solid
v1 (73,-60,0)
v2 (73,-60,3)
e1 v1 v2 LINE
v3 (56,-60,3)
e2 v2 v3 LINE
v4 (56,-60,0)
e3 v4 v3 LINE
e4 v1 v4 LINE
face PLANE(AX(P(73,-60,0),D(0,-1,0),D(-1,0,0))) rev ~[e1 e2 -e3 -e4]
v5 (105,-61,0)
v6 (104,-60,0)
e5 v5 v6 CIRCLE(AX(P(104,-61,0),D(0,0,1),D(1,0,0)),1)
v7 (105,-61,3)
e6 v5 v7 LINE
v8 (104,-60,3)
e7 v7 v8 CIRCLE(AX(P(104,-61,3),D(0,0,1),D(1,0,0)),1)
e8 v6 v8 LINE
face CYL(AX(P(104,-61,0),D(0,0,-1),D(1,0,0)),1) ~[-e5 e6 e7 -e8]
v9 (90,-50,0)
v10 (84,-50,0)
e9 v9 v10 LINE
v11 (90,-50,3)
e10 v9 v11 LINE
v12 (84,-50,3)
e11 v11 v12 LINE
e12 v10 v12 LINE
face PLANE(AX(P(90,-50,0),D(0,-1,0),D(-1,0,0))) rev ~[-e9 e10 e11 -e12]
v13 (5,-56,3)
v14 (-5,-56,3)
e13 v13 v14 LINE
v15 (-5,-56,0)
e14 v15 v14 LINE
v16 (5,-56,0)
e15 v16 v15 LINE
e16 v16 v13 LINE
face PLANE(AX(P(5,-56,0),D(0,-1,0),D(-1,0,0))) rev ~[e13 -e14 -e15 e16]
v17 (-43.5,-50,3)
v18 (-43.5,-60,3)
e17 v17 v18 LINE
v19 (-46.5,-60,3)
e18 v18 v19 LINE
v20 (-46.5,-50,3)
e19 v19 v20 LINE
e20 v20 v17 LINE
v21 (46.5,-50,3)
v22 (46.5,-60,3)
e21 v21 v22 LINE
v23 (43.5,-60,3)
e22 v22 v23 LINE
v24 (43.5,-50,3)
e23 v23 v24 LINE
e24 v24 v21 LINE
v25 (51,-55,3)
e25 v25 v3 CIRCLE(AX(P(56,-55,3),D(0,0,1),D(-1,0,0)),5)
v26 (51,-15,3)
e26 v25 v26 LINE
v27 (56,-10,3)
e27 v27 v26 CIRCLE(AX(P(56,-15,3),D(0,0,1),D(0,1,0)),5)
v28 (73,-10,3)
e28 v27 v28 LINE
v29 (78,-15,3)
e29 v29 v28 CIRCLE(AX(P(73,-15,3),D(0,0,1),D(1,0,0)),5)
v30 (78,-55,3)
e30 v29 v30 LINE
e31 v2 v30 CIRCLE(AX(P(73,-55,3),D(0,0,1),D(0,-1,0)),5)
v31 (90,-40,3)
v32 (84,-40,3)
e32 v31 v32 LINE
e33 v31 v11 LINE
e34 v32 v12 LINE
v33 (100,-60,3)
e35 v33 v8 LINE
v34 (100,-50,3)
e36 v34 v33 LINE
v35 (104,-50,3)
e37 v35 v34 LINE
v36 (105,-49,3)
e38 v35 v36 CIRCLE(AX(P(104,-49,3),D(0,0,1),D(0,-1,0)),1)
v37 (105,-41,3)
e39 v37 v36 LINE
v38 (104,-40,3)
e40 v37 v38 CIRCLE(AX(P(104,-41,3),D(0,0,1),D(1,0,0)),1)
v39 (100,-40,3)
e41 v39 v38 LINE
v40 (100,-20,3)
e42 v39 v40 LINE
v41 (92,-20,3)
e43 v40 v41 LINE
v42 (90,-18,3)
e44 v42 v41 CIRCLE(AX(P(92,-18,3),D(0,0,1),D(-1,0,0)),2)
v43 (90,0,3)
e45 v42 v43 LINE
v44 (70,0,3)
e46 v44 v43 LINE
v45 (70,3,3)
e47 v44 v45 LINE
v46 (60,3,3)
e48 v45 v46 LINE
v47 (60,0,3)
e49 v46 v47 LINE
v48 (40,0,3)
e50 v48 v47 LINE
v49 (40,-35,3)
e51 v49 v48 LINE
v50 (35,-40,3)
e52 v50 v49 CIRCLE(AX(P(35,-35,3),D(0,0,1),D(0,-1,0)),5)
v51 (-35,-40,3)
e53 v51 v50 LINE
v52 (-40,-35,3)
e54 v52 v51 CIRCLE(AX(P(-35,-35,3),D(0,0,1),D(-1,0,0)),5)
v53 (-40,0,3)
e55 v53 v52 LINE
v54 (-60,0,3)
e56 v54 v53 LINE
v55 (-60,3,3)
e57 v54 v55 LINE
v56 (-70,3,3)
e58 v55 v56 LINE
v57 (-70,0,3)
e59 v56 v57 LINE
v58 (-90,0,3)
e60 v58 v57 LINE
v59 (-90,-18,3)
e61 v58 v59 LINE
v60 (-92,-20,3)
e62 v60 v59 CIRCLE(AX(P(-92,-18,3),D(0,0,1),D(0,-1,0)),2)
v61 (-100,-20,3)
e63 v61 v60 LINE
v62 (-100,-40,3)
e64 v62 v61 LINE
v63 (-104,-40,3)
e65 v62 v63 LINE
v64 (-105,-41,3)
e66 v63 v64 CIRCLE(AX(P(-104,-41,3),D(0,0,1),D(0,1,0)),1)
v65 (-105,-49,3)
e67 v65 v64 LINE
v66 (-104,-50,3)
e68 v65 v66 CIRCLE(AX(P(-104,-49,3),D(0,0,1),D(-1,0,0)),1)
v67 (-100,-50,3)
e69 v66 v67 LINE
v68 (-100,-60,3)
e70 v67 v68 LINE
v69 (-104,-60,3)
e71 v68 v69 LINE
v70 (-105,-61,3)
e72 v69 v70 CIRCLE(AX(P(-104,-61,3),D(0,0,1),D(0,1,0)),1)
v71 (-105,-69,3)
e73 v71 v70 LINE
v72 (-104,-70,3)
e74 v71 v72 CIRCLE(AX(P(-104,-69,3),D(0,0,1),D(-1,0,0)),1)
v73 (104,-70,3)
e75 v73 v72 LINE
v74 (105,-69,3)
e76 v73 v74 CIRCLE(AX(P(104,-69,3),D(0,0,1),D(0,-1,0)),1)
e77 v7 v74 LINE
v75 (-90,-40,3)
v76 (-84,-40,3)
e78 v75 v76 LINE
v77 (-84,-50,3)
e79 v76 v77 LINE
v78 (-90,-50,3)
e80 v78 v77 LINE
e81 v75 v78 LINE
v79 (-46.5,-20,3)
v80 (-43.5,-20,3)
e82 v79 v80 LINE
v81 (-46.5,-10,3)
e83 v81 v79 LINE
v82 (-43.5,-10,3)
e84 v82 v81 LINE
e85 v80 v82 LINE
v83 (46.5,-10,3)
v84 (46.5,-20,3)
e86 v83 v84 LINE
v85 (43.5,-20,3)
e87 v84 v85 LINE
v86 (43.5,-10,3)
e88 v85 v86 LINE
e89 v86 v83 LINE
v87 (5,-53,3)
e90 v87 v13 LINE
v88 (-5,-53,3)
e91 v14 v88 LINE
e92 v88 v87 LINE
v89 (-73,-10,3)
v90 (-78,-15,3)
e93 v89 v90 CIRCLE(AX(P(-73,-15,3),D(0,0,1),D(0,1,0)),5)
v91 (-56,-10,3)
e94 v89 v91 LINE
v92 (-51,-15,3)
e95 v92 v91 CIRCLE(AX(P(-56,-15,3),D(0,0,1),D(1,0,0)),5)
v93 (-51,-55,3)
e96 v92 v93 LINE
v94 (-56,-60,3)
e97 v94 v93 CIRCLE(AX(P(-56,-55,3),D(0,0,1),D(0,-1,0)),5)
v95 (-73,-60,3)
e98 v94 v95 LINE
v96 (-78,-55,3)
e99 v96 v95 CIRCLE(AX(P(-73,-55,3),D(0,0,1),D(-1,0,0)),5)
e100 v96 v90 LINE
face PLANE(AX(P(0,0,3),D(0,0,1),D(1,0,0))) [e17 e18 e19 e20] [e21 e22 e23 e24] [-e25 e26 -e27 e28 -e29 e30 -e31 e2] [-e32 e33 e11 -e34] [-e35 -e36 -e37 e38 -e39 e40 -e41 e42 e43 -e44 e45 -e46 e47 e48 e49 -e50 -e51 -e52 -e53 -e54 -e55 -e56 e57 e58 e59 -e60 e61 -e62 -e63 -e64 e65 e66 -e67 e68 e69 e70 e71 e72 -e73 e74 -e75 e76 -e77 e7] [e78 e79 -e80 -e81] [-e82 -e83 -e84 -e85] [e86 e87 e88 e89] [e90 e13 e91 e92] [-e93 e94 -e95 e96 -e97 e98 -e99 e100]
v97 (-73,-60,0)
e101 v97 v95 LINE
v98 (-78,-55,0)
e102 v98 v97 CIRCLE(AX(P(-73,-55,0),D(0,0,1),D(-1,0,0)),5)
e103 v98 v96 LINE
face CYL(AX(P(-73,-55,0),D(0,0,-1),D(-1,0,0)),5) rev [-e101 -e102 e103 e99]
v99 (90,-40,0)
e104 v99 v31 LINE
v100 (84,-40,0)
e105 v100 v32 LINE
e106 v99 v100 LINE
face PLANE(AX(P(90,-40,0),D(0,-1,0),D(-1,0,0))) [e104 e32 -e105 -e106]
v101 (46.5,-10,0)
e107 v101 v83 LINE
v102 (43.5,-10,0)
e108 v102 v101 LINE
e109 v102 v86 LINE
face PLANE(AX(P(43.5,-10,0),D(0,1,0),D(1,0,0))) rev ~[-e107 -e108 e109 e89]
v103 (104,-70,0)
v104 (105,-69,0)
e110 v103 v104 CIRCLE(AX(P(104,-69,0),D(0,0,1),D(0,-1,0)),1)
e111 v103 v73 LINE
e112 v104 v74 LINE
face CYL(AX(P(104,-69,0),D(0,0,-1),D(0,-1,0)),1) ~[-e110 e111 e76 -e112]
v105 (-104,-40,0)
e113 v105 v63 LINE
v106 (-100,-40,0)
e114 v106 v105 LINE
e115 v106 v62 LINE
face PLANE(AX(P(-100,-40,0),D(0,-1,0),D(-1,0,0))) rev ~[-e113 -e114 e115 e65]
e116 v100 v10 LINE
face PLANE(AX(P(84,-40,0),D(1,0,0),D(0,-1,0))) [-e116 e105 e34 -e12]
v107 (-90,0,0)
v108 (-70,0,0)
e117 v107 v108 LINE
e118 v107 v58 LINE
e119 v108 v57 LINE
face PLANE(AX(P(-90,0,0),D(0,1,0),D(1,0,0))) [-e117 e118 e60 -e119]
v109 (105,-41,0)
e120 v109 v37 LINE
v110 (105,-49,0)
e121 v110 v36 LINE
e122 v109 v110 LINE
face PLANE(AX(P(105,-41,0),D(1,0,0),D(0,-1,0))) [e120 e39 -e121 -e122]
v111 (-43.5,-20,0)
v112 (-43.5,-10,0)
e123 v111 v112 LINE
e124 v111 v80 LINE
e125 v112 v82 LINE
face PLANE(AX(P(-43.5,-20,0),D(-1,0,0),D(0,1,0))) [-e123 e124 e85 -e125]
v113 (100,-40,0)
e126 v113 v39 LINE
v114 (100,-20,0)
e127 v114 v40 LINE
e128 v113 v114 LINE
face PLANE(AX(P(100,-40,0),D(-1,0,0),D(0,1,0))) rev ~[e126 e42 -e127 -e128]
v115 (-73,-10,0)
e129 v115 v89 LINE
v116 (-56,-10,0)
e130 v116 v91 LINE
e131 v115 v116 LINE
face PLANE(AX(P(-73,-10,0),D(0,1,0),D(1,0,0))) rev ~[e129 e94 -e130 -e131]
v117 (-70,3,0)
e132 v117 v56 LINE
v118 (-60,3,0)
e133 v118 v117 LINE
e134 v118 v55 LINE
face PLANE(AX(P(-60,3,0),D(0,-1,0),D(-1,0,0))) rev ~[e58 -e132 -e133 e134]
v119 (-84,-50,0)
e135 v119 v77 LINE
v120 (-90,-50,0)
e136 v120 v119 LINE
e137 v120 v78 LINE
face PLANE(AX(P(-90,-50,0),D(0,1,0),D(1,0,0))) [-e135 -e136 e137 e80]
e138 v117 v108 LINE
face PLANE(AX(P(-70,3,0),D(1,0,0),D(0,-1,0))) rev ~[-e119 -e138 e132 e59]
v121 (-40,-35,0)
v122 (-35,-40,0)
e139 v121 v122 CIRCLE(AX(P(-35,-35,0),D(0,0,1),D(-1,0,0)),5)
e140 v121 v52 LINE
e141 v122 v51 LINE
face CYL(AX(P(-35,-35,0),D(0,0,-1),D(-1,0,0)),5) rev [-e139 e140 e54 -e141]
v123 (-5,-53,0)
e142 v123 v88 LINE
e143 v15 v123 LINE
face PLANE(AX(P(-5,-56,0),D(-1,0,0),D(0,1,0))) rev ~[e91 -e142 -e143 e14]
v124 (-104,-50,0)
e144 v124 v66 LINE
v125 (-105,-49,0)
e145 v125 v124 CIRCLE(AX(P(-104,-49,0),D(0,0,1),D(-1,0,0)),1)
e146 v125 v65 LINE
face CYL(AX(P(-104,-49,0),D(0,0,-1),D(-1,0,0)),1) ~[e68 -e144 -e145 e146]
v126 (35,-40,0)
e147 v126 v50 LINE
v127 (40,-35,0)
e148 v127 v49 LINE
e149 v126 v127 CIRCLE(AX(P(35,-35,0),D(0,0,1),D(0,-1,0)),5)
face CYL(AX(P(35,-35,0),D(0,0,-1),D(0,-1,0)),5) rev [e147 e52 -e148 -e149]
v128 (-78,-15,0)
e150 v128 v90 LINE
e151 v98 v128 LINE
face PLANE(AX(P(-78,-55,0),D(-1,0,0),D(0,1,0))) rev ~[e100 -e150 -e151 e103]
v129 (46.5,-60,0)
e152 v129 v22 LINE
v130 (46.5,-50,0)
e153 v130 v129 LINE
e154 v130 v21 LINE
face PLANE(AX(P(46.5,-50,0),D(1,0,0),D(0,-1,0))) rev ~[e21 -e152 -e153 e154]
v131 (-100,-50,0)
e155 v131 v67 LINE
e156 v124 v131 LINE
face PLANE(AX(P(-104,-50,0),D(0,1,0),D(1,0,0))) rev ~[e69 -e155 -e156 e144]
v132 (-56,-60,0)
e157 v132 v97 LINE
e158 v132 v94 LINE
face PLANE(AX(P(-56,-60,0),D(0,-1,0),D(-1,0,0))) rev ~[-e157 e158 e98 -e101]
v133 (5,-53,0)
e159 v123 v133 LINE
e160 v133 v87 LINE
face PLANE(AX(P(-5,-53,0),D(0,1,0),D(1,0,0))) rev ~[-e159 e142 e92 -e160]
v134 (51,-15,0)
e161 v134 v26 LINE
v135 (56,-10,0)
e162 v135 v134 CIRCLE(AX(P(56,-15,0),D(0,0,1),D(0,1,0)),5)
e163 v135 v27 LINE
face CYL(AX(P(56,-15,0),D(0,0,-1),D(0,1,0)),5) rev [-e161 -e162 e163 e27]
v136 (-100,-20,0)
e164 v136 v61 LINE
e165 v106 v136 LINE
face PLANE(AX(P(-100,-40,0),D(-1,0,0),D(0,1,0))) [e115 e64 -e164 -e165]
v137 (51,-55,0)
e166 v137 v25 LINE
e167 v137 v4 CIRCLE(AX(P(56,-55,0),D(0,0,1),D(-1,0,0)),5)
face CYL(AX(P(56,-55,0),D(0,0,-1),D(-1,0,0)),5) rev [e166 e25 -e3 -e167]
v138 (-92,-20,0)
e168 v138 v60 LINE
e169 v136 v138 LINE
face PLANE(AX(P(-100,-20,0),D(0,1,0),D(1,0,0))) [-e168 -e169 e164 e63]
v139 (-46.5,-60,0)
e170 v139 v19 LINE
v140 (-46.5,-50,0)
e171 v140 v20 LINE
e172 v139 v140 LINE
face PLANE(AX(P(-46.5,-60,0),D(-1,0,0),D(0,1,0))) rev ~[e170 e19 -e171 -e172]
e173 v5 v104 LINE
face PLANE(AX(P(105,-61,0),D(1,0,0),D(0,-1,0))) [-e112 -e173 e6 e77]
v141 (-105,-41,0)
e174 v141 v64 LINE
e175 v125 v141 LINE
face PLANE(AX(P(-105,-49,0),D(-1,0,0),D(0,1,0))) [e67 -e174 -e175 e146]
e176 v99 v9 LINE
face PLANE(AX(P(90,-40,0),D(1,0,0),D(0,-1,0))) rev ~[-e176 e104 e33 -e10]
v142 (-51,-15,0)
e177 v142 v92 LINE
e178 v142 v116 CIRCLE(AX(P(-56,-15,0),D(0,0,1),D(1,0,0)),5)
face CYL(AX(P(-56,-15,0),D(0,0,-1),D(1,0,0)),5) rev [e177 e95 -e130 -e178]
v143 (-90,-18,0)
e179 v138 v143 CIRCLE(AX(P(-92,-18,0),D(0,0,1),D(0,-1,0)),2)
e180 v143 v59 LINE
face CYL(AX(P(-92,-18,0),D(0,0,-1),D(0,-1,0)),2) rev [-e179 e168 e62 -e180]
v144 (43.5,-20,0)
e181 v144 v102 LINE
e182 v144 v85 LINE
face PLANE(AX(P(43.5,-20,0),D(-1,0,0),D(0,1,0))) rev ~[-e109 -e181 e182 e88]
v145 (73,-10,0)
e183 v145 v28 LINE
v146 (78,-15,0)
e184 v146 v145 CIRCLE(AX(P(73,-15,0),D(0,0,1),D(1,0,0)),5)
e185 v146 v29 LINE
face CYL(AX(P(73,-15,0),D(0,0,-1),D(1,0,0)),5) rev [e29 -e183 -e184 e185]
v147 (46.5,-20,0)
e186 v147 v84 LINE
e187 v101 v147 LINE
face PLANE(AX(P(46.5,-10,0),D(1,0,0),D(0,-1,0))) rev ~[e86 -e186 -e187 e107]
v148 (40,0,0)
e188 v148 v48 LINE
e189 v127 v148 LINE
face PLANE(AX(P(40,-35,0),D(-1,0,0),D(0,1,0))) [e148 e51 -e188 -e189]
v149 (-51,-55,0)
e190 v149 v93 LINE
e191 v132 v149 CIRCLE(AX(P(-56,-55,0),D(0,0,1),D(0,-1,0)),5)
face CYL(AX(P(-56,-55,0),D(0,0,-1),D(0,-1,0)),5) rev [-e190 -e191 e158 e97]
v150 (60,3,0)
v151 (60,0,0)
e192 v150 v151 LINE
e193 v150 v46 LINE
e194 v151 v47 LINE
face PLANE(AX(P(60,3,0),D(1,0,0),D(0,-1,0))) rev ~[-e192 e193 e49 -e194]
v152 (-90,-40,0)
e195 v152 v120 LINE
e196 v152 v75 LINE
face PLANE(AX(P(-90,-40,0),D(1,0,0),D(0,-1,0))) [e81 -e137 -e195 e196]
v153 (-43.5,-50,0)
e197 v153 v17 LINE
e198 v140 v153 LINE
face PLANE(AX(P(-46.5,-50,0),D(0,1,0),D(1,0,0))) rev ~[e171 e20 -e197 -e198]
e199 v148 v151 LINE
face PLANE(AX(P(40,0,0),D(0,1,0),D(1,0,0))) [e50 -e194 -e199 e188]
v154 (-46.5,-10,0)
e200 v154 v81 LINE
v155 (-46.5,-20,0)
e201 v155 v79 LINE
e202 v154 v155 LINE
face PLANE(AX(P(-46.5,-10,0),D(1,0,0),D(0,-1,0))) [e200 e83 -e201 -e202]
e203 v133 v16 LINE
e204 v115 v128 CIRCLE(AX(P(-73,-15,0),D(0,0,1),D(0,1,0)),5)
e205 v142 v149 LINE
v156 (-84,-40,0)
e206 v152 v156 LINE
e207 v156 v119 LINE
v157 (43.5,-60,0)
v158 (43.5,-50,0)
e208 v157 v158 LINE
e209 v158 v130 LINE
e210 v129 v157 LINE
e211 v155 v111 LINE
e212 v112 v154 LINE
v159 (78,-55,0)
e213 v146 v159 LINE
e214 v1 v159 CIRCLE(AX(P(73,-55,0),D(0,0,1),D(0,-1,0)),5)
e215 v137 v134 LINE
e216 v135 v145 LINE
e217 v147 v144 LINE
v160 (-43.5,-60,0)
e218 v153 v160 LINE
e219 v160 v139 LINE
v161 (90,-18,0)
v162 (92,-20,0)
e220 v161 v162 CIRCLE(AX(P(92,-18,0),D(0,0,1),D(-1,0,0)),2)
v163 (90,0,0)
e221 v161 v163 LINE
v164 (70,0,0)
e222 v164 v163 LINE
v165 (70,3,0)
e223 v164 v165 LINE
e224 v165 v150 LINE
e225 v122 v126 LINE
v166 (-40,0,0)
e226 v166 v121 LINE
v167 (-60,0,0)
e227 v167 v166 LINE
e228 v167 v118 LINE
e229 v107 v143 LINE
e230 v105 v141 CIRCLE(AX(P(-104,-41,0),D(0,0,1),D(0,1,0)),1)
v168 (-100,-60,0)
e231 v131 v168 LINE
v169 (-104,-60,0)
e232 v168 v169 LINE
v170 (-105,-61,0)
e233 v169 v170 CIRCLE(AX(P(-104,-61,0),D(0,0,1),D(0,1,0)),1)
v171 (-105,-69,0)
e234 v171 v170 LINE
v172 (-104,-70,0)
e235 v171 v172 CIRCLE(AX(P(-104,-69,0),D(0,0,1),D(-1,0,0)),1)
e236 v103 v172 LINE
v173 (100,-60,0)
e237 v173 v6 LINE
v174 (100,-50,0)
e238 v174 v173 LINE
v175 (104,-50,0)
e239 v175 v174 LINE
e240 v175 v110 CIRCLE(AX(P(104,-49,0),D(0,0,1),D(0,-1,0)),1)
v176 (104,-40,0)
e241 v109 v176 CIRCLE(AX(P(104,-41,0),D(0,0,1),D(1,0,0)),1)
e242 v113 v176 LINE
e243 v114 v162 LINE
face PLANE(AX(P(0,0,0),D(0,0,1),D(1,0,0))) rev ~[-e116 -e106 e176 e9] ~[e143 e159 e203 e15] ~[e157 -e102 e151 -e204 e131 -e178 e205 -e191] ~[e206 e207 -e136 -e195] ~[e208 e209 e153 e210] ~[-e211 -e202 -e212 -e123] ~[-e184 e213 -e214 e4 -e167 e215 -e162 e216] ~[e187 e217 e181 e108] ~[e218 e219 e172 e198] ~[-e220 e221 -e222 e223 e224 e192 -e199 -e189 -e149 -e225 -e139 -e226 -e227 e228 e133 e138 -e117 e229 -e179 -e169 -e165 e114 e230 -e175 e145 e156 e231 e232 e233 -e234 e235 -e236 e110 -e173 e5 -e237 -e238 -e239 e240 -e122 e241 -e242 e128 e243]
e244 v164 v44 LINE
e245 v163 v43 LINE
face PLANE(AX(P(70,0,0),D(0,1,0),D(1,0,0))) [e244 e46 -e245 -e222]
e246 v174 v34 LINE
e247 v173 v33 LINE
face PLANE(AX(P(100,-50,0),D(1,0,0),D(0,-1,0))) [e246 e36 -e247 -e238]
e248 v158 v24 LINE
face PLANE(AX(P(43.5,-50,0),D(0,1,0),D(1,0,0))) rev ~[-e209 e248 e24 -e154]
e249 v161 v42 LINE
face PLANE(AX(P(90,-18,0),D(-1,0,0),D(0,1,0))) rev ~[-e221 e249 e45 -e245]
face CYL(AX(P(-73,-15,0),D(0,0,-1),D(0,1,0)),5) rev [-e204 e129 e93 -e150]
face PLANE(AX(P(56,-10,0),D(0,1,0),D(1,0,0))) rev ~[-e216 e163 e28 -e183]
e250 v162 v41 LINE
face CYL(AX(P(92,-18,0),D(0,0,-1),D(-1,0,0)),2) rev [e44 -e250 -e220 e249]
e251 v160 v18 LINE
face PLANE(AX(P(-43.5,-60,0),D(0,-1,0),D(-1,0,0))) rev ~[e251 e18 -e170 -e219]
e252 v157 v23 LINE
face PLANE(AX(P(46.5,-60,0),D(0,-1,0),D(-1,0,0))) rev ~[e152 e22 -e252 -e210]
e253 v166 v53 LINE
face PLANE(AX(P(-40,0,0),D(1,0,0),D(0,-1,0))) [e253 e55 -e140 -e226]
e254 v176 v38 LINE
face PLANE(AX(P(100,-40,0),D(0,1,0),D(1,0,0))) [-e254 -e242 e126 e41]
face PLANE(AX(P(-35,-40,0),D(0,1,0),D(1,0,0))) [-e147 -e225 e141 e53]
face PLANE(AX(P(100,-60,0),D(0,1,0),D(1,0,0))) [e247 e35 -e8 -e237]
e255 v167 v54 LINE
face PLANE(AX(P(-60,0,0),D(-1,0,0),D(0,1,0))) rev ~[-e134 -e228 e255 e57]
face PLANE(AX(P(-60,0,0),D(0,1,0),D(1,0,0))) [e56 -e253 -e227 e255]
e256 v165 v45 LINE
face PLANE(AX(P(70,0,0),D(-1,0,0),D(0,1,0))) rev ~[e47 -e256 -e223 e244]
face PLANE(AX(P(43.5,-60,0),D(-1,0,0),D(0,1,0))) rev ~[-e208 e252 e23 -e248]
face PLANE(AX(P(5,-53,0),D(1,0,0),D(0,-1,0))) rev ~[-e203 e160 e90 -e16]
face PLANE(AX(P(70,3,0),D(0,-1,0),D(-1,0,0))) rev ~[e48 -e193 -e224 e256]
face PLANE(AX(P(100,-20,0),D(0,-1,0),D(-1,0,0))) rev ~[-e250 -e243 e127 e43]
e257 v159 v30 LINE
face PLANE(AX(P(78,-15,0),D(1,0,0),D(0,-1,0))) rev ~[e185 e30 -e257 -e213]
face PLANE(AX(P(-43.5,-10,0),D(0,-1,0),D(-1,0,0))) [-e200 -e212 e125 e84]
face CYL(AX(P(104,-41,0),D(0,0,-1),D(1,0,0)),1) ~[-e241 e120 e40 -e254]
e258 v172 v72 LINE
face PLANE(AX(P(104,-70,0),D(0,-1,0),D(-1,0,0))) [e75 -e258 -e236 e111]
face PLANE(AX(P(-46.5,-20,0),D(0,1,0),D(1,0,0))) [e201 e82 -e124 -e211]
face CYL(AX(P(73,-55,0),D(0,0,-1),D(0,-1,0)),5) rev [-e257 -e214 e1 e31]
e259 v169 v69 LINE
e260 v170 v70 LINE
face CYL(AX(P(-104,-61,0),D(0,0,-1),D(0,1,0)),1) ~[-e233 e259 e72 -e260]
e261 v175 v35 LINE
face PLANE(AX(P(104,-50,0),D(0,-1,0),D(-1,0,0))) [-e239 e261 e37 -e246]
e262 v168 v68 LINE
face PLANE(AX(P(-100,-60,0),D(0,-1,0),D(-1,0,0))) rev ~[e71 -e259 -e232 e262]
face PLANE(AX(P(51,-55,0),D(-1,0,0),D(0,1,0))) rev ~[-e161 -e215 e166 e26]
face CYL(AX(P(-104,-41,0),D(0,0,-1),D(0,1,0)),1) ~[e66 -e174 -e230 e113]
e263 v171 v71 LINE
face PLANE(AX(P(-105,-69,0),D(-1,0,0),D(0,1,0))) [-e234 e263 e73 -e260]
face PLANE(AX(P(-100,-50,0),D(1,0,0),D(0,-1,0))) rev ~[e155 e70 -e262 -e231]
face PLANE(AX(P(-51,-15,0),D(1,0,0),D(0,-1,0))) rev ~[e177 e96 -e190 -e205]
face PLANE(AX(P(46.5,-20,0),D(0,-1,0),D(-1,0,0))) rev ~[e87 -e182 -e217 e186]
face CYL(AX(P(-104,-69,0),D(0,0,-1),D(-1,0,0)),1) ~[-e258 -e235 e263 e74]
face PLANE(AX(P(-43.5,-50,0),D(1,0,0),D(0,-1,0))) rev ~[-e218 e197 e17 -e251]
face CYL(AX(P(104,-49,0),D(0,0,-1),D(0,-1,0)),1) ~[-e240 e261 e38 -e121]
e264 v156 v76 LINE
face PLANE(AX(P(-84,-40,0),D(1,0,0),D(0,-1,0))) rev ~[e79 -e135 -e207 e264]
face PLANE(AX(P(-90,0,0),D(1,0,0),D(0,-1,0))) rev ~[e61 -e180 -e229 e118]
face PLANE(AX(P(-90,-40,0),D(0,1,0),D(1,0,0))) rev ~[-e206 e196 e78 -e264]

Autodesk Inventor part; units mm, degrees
ref_plane "YZ Plane" through (0, 0, 0) normal (1, 0, 0) x (0, 1, 0)
ref_plane "XZ Plane" through (0, 0, 0) normal (0, 1, 0) x (-1, 0, 0)
ref_plane "XY Plane" through (0, 0, 0) normal (0, 0, 1) x (1, 0, 0)
sketch "Sketch1" plane through (0, 0, 0) normal (0, 0, 1) x (1, 0, 0)
  line L0 (-40, 0) -> (-40, -35)
  line L1 (-35, -40) -> (35, -40)
  line L2 (40, -35) -> (40, 0)
  line L3 (104, -70) -> (-104, -70)
  line L4 (-60, 0) -> (-60, 3)
  line L5 (-60, 3) -> (-70, 3)
  line L6 (-70, 3) -> (-70, 0)
  line L7 (-90, 0) -> (-70, 0)
  line L8 (-60, 0) -> (-40, 0)
  line L9 (70, 0) -> (70, 3)
  line L10 (70, 3) -> (60, 3)
  line L11 (60, 3) -> (60, 0)
  line L12 (40, 0) -> (60, 0)
  line L13 (70, 0) -> (90, 0)
  arc A0 (-105, -69) -> (-104, -70) centre (-104, -69) ccw
  arc A1 (104, -70) -> (105, -69) centre (104, -69) ccw
  line L14 (-90, -40) -> (-84, -40)
  line L15 (-84, -40) -> (-84, -50)
  line L16 (90, -40) -> (84, -40)
  line L17 (84, -40) -> (84, -50)
  line L18 (-43.5, -10) -> (-46.5, -10)
  line L19 (-46.5, -10) -> (-46.5, -20)
  line L20 (-46.5, -20) -> (-43.5, -20)
  line L21 (-43.5, -20) -> (-43.5, -10)
  line L22 (43.5, -10) -> (46.5, -10)
  line L23 (46.5, -10) -> (46.5, -20)
  line L24 (46.5, -20) -> (43.5, -20)
  line L25 (43.5, -20) -> (43.5, -10)
  line L26 (-46.5, -50) -> (-43.5, -50)
  line L27 (-43.5, -50) -> (-43.5, -60)
  line L28 (-43.5, -60) -> (-46.5, -60)
  line L29 (-46.5, -60) -> (-46.5, -50)
  line L30 (43.5, -50) -> (46.5, -50)
  line L31 (46.5, -50) -> (46.5, -60)
  line L32 (46.5, -60) -> (43.5, -60)
  line L33 (43.5, -60) -> (43.5, -50)
  line L34 (-5, -53) -> (5, -53)
  line L35 (5, -53) -> (5, -56)
  line L36 (5, -56) -> (-5, -56)
  line L37 (-5, -56) -> (-5, -53)
  line L38 (-100, -40) -> (-100, -20)
  line L39 (-100, -20) -> (-92, -20)
  line L40 (-90, -40) -> (-90, -50)
  line L41 (90, -40) -> (90, -50)
  line L42 (90, -50) -> (84, -50)
  line L43 (100, -40) -> (100, -20)
  line L44 (100, -20) -> (92, -20)
  line L45 (90, -18) -> (90, 0)
  line L46 (-90, 0) -> (-90, -18)
  arc A2 (-92, -20) -> (-90, -18) centre (-92, -18) ccw
  arc A3 (90, -18) -> (92, -20) centre (92, -18) ccw
  line L47 (-90, -50) -> (-84, -50)
  line L48 (-100, -40) -> (-104, -40)
  line L49 (100, -40) -> (104, -40)
  arc A4 (-104, -40) -> (-105, -41) centre (-104, -41) ccw
  arc A5 (105, -41) -> (104, -40) centre (104, -41) ccw
  line L50 (-104, -50) -> (-100, -50)
  line L51 (-100, -50) -> (-100, -60)
  line L52 (-100, -60) -> (-104, -60)
  line L53 (-105, -69) -> (-105, -61)
  line L54 (-105, -49) -> (-105, -41)
  arc A6 (-104, -60) -> (-105, -61) centre (-104, -61) ccw
  arc A7 (-105, -49) -> (-104, -50) centre (-104, -49) ccw
  line L55 (104, -50) -> (100, -50)
  line L56 (100, -50) -> (100, -60)
  line L57 (100, -60) -> (104, -60)
  line L58 (105, -41) -> (105, -49)
  line L59 (105, -61) -> (105, -69)
  arc A8 (105, -61) -> (104, -60) centre (104, -61) ccw
  arc A9 (104, -50) -> (105, -49) centre (104, -49) ccw
  arc A10 (-40, -35) -> (-35, -40) centre (-35, -35) ccw
  arc A11 (35, -40) -> (40, -35) centre (35, -35) ccw
  line L60 (-73, -10) -> (-56, -10)
  line L61 (-51, -15) -> (-51, -55)
  line L62 (-56, -60) -> (-73, -60)
  line L63 (-78, -55) -> (-78, -15)
  line L64 (56, -10) -> (73, -10)
  line L65 (78, -15) -> (78, -55)
  line L66 (73, -60) -> (56, -60)
  line L67 (51, -55) -> (51, -15)
  arc A12 (-73, -10) -> (-78, -15) centre (-73, -15) ccw
  arc A13 (-51, -15) -> (-56, -10) centre (-56, -15) ccw
  arc A14 (-56, -60) -> (-51, -55) centre (-56, -55) ccw
  arc A15 (-78, -55) -> (-73, -60) centre (-73, -55) ccw
  arc A16 (56, -10) -> (51, -15) centre (56, -15) ccw
  arc A17 (78, -15) -> (73, -10) centre (73, -15) ccw
  arc A18 (73, -60) -> (78, -55) centre (73, -55) ccw
  arc A19 (51, -55) -> (56, -60) centre (56, -55) ccw
  point P0 (0, 0)
  point P1 (105, -70)
  point P2 (-105, -70)
  point P3 (-90, -20)
  point P4 (90, -20)
  point P5 (-105, -40)
  point P6 (105, -50)
  point P7 (-40, -40)
  point P8 (40, -40)
  dimension "d0" = 80
  dimension "d1" = 40
  dimension "d2" = 50
  dimension "d10" = 50
  dimension "d15" = 3
  dimension "d16" = 10
  dimension "d18" = 10
  dimension "d20" = 3
  dimension "d23" = 40
  dimension "d24" = 40
  dimension "d27" = 1
  dimension "d28" = 10
  dimension "d29" = 6
  dimension "d31" = 40
  dimension "d32" = 10
  dimension "d33" = 6
  dimension "d35" = 40
  dimension "d39" = 10
  dimension "d40" = 3
  dimension "d41" = 10
  dimension "d42" = 3
  dimension "d44" = 10
  dimension "d45" = 10
  dimension "d50" = 3
  dimension "d51" = 10
  dimension "d52" = 10
  dimension "d54" = 3
  dimension "d55" = 10
  dimension "d56" = 10
  dimension "d60" = 10
  dimension "d61" = 3
  dimension "d62" = 17
  dimension "d66" = 40
  dimension "d67" = 40
  dimension "d71" = 3.5
  dimension "d72" = 3.5
  dimension "d73" = 3.5
  dimension "d74" = 3.5
  dimension "d77" = 20
  dimension "d78" = 20
  dimension "d79" = 10
  dimension "d80" = 10
  dimension "d81" = 2
  dimension "d82" = 10
  dimension "d84" = 50
  dimension "d85" = 20
  dimension "d86" = 20
  dimension "d87" = 60
  dimension "d88" = 5
  dimension "d92" = 30
  dimension "d93" = 5
  dimension "d94" = 30
  dimension "d95" = 1
  dimension "d97" = 10
  dimension "d98" = 10
  dimension "d99" = 1
  dimension "d100" = 10
  dimension "d101" = 10
  dimension "d102" = 5
  dimension "d103" = 5
  dimension "d104" = 210
  dimension "d105" = 1
  dimension "d106" = 5
  dimension "d107" = 70
extrude "Extrusion8" add sketch "Sketch1" along normal blind 3
properties part number "Bulkhead 25083113"
